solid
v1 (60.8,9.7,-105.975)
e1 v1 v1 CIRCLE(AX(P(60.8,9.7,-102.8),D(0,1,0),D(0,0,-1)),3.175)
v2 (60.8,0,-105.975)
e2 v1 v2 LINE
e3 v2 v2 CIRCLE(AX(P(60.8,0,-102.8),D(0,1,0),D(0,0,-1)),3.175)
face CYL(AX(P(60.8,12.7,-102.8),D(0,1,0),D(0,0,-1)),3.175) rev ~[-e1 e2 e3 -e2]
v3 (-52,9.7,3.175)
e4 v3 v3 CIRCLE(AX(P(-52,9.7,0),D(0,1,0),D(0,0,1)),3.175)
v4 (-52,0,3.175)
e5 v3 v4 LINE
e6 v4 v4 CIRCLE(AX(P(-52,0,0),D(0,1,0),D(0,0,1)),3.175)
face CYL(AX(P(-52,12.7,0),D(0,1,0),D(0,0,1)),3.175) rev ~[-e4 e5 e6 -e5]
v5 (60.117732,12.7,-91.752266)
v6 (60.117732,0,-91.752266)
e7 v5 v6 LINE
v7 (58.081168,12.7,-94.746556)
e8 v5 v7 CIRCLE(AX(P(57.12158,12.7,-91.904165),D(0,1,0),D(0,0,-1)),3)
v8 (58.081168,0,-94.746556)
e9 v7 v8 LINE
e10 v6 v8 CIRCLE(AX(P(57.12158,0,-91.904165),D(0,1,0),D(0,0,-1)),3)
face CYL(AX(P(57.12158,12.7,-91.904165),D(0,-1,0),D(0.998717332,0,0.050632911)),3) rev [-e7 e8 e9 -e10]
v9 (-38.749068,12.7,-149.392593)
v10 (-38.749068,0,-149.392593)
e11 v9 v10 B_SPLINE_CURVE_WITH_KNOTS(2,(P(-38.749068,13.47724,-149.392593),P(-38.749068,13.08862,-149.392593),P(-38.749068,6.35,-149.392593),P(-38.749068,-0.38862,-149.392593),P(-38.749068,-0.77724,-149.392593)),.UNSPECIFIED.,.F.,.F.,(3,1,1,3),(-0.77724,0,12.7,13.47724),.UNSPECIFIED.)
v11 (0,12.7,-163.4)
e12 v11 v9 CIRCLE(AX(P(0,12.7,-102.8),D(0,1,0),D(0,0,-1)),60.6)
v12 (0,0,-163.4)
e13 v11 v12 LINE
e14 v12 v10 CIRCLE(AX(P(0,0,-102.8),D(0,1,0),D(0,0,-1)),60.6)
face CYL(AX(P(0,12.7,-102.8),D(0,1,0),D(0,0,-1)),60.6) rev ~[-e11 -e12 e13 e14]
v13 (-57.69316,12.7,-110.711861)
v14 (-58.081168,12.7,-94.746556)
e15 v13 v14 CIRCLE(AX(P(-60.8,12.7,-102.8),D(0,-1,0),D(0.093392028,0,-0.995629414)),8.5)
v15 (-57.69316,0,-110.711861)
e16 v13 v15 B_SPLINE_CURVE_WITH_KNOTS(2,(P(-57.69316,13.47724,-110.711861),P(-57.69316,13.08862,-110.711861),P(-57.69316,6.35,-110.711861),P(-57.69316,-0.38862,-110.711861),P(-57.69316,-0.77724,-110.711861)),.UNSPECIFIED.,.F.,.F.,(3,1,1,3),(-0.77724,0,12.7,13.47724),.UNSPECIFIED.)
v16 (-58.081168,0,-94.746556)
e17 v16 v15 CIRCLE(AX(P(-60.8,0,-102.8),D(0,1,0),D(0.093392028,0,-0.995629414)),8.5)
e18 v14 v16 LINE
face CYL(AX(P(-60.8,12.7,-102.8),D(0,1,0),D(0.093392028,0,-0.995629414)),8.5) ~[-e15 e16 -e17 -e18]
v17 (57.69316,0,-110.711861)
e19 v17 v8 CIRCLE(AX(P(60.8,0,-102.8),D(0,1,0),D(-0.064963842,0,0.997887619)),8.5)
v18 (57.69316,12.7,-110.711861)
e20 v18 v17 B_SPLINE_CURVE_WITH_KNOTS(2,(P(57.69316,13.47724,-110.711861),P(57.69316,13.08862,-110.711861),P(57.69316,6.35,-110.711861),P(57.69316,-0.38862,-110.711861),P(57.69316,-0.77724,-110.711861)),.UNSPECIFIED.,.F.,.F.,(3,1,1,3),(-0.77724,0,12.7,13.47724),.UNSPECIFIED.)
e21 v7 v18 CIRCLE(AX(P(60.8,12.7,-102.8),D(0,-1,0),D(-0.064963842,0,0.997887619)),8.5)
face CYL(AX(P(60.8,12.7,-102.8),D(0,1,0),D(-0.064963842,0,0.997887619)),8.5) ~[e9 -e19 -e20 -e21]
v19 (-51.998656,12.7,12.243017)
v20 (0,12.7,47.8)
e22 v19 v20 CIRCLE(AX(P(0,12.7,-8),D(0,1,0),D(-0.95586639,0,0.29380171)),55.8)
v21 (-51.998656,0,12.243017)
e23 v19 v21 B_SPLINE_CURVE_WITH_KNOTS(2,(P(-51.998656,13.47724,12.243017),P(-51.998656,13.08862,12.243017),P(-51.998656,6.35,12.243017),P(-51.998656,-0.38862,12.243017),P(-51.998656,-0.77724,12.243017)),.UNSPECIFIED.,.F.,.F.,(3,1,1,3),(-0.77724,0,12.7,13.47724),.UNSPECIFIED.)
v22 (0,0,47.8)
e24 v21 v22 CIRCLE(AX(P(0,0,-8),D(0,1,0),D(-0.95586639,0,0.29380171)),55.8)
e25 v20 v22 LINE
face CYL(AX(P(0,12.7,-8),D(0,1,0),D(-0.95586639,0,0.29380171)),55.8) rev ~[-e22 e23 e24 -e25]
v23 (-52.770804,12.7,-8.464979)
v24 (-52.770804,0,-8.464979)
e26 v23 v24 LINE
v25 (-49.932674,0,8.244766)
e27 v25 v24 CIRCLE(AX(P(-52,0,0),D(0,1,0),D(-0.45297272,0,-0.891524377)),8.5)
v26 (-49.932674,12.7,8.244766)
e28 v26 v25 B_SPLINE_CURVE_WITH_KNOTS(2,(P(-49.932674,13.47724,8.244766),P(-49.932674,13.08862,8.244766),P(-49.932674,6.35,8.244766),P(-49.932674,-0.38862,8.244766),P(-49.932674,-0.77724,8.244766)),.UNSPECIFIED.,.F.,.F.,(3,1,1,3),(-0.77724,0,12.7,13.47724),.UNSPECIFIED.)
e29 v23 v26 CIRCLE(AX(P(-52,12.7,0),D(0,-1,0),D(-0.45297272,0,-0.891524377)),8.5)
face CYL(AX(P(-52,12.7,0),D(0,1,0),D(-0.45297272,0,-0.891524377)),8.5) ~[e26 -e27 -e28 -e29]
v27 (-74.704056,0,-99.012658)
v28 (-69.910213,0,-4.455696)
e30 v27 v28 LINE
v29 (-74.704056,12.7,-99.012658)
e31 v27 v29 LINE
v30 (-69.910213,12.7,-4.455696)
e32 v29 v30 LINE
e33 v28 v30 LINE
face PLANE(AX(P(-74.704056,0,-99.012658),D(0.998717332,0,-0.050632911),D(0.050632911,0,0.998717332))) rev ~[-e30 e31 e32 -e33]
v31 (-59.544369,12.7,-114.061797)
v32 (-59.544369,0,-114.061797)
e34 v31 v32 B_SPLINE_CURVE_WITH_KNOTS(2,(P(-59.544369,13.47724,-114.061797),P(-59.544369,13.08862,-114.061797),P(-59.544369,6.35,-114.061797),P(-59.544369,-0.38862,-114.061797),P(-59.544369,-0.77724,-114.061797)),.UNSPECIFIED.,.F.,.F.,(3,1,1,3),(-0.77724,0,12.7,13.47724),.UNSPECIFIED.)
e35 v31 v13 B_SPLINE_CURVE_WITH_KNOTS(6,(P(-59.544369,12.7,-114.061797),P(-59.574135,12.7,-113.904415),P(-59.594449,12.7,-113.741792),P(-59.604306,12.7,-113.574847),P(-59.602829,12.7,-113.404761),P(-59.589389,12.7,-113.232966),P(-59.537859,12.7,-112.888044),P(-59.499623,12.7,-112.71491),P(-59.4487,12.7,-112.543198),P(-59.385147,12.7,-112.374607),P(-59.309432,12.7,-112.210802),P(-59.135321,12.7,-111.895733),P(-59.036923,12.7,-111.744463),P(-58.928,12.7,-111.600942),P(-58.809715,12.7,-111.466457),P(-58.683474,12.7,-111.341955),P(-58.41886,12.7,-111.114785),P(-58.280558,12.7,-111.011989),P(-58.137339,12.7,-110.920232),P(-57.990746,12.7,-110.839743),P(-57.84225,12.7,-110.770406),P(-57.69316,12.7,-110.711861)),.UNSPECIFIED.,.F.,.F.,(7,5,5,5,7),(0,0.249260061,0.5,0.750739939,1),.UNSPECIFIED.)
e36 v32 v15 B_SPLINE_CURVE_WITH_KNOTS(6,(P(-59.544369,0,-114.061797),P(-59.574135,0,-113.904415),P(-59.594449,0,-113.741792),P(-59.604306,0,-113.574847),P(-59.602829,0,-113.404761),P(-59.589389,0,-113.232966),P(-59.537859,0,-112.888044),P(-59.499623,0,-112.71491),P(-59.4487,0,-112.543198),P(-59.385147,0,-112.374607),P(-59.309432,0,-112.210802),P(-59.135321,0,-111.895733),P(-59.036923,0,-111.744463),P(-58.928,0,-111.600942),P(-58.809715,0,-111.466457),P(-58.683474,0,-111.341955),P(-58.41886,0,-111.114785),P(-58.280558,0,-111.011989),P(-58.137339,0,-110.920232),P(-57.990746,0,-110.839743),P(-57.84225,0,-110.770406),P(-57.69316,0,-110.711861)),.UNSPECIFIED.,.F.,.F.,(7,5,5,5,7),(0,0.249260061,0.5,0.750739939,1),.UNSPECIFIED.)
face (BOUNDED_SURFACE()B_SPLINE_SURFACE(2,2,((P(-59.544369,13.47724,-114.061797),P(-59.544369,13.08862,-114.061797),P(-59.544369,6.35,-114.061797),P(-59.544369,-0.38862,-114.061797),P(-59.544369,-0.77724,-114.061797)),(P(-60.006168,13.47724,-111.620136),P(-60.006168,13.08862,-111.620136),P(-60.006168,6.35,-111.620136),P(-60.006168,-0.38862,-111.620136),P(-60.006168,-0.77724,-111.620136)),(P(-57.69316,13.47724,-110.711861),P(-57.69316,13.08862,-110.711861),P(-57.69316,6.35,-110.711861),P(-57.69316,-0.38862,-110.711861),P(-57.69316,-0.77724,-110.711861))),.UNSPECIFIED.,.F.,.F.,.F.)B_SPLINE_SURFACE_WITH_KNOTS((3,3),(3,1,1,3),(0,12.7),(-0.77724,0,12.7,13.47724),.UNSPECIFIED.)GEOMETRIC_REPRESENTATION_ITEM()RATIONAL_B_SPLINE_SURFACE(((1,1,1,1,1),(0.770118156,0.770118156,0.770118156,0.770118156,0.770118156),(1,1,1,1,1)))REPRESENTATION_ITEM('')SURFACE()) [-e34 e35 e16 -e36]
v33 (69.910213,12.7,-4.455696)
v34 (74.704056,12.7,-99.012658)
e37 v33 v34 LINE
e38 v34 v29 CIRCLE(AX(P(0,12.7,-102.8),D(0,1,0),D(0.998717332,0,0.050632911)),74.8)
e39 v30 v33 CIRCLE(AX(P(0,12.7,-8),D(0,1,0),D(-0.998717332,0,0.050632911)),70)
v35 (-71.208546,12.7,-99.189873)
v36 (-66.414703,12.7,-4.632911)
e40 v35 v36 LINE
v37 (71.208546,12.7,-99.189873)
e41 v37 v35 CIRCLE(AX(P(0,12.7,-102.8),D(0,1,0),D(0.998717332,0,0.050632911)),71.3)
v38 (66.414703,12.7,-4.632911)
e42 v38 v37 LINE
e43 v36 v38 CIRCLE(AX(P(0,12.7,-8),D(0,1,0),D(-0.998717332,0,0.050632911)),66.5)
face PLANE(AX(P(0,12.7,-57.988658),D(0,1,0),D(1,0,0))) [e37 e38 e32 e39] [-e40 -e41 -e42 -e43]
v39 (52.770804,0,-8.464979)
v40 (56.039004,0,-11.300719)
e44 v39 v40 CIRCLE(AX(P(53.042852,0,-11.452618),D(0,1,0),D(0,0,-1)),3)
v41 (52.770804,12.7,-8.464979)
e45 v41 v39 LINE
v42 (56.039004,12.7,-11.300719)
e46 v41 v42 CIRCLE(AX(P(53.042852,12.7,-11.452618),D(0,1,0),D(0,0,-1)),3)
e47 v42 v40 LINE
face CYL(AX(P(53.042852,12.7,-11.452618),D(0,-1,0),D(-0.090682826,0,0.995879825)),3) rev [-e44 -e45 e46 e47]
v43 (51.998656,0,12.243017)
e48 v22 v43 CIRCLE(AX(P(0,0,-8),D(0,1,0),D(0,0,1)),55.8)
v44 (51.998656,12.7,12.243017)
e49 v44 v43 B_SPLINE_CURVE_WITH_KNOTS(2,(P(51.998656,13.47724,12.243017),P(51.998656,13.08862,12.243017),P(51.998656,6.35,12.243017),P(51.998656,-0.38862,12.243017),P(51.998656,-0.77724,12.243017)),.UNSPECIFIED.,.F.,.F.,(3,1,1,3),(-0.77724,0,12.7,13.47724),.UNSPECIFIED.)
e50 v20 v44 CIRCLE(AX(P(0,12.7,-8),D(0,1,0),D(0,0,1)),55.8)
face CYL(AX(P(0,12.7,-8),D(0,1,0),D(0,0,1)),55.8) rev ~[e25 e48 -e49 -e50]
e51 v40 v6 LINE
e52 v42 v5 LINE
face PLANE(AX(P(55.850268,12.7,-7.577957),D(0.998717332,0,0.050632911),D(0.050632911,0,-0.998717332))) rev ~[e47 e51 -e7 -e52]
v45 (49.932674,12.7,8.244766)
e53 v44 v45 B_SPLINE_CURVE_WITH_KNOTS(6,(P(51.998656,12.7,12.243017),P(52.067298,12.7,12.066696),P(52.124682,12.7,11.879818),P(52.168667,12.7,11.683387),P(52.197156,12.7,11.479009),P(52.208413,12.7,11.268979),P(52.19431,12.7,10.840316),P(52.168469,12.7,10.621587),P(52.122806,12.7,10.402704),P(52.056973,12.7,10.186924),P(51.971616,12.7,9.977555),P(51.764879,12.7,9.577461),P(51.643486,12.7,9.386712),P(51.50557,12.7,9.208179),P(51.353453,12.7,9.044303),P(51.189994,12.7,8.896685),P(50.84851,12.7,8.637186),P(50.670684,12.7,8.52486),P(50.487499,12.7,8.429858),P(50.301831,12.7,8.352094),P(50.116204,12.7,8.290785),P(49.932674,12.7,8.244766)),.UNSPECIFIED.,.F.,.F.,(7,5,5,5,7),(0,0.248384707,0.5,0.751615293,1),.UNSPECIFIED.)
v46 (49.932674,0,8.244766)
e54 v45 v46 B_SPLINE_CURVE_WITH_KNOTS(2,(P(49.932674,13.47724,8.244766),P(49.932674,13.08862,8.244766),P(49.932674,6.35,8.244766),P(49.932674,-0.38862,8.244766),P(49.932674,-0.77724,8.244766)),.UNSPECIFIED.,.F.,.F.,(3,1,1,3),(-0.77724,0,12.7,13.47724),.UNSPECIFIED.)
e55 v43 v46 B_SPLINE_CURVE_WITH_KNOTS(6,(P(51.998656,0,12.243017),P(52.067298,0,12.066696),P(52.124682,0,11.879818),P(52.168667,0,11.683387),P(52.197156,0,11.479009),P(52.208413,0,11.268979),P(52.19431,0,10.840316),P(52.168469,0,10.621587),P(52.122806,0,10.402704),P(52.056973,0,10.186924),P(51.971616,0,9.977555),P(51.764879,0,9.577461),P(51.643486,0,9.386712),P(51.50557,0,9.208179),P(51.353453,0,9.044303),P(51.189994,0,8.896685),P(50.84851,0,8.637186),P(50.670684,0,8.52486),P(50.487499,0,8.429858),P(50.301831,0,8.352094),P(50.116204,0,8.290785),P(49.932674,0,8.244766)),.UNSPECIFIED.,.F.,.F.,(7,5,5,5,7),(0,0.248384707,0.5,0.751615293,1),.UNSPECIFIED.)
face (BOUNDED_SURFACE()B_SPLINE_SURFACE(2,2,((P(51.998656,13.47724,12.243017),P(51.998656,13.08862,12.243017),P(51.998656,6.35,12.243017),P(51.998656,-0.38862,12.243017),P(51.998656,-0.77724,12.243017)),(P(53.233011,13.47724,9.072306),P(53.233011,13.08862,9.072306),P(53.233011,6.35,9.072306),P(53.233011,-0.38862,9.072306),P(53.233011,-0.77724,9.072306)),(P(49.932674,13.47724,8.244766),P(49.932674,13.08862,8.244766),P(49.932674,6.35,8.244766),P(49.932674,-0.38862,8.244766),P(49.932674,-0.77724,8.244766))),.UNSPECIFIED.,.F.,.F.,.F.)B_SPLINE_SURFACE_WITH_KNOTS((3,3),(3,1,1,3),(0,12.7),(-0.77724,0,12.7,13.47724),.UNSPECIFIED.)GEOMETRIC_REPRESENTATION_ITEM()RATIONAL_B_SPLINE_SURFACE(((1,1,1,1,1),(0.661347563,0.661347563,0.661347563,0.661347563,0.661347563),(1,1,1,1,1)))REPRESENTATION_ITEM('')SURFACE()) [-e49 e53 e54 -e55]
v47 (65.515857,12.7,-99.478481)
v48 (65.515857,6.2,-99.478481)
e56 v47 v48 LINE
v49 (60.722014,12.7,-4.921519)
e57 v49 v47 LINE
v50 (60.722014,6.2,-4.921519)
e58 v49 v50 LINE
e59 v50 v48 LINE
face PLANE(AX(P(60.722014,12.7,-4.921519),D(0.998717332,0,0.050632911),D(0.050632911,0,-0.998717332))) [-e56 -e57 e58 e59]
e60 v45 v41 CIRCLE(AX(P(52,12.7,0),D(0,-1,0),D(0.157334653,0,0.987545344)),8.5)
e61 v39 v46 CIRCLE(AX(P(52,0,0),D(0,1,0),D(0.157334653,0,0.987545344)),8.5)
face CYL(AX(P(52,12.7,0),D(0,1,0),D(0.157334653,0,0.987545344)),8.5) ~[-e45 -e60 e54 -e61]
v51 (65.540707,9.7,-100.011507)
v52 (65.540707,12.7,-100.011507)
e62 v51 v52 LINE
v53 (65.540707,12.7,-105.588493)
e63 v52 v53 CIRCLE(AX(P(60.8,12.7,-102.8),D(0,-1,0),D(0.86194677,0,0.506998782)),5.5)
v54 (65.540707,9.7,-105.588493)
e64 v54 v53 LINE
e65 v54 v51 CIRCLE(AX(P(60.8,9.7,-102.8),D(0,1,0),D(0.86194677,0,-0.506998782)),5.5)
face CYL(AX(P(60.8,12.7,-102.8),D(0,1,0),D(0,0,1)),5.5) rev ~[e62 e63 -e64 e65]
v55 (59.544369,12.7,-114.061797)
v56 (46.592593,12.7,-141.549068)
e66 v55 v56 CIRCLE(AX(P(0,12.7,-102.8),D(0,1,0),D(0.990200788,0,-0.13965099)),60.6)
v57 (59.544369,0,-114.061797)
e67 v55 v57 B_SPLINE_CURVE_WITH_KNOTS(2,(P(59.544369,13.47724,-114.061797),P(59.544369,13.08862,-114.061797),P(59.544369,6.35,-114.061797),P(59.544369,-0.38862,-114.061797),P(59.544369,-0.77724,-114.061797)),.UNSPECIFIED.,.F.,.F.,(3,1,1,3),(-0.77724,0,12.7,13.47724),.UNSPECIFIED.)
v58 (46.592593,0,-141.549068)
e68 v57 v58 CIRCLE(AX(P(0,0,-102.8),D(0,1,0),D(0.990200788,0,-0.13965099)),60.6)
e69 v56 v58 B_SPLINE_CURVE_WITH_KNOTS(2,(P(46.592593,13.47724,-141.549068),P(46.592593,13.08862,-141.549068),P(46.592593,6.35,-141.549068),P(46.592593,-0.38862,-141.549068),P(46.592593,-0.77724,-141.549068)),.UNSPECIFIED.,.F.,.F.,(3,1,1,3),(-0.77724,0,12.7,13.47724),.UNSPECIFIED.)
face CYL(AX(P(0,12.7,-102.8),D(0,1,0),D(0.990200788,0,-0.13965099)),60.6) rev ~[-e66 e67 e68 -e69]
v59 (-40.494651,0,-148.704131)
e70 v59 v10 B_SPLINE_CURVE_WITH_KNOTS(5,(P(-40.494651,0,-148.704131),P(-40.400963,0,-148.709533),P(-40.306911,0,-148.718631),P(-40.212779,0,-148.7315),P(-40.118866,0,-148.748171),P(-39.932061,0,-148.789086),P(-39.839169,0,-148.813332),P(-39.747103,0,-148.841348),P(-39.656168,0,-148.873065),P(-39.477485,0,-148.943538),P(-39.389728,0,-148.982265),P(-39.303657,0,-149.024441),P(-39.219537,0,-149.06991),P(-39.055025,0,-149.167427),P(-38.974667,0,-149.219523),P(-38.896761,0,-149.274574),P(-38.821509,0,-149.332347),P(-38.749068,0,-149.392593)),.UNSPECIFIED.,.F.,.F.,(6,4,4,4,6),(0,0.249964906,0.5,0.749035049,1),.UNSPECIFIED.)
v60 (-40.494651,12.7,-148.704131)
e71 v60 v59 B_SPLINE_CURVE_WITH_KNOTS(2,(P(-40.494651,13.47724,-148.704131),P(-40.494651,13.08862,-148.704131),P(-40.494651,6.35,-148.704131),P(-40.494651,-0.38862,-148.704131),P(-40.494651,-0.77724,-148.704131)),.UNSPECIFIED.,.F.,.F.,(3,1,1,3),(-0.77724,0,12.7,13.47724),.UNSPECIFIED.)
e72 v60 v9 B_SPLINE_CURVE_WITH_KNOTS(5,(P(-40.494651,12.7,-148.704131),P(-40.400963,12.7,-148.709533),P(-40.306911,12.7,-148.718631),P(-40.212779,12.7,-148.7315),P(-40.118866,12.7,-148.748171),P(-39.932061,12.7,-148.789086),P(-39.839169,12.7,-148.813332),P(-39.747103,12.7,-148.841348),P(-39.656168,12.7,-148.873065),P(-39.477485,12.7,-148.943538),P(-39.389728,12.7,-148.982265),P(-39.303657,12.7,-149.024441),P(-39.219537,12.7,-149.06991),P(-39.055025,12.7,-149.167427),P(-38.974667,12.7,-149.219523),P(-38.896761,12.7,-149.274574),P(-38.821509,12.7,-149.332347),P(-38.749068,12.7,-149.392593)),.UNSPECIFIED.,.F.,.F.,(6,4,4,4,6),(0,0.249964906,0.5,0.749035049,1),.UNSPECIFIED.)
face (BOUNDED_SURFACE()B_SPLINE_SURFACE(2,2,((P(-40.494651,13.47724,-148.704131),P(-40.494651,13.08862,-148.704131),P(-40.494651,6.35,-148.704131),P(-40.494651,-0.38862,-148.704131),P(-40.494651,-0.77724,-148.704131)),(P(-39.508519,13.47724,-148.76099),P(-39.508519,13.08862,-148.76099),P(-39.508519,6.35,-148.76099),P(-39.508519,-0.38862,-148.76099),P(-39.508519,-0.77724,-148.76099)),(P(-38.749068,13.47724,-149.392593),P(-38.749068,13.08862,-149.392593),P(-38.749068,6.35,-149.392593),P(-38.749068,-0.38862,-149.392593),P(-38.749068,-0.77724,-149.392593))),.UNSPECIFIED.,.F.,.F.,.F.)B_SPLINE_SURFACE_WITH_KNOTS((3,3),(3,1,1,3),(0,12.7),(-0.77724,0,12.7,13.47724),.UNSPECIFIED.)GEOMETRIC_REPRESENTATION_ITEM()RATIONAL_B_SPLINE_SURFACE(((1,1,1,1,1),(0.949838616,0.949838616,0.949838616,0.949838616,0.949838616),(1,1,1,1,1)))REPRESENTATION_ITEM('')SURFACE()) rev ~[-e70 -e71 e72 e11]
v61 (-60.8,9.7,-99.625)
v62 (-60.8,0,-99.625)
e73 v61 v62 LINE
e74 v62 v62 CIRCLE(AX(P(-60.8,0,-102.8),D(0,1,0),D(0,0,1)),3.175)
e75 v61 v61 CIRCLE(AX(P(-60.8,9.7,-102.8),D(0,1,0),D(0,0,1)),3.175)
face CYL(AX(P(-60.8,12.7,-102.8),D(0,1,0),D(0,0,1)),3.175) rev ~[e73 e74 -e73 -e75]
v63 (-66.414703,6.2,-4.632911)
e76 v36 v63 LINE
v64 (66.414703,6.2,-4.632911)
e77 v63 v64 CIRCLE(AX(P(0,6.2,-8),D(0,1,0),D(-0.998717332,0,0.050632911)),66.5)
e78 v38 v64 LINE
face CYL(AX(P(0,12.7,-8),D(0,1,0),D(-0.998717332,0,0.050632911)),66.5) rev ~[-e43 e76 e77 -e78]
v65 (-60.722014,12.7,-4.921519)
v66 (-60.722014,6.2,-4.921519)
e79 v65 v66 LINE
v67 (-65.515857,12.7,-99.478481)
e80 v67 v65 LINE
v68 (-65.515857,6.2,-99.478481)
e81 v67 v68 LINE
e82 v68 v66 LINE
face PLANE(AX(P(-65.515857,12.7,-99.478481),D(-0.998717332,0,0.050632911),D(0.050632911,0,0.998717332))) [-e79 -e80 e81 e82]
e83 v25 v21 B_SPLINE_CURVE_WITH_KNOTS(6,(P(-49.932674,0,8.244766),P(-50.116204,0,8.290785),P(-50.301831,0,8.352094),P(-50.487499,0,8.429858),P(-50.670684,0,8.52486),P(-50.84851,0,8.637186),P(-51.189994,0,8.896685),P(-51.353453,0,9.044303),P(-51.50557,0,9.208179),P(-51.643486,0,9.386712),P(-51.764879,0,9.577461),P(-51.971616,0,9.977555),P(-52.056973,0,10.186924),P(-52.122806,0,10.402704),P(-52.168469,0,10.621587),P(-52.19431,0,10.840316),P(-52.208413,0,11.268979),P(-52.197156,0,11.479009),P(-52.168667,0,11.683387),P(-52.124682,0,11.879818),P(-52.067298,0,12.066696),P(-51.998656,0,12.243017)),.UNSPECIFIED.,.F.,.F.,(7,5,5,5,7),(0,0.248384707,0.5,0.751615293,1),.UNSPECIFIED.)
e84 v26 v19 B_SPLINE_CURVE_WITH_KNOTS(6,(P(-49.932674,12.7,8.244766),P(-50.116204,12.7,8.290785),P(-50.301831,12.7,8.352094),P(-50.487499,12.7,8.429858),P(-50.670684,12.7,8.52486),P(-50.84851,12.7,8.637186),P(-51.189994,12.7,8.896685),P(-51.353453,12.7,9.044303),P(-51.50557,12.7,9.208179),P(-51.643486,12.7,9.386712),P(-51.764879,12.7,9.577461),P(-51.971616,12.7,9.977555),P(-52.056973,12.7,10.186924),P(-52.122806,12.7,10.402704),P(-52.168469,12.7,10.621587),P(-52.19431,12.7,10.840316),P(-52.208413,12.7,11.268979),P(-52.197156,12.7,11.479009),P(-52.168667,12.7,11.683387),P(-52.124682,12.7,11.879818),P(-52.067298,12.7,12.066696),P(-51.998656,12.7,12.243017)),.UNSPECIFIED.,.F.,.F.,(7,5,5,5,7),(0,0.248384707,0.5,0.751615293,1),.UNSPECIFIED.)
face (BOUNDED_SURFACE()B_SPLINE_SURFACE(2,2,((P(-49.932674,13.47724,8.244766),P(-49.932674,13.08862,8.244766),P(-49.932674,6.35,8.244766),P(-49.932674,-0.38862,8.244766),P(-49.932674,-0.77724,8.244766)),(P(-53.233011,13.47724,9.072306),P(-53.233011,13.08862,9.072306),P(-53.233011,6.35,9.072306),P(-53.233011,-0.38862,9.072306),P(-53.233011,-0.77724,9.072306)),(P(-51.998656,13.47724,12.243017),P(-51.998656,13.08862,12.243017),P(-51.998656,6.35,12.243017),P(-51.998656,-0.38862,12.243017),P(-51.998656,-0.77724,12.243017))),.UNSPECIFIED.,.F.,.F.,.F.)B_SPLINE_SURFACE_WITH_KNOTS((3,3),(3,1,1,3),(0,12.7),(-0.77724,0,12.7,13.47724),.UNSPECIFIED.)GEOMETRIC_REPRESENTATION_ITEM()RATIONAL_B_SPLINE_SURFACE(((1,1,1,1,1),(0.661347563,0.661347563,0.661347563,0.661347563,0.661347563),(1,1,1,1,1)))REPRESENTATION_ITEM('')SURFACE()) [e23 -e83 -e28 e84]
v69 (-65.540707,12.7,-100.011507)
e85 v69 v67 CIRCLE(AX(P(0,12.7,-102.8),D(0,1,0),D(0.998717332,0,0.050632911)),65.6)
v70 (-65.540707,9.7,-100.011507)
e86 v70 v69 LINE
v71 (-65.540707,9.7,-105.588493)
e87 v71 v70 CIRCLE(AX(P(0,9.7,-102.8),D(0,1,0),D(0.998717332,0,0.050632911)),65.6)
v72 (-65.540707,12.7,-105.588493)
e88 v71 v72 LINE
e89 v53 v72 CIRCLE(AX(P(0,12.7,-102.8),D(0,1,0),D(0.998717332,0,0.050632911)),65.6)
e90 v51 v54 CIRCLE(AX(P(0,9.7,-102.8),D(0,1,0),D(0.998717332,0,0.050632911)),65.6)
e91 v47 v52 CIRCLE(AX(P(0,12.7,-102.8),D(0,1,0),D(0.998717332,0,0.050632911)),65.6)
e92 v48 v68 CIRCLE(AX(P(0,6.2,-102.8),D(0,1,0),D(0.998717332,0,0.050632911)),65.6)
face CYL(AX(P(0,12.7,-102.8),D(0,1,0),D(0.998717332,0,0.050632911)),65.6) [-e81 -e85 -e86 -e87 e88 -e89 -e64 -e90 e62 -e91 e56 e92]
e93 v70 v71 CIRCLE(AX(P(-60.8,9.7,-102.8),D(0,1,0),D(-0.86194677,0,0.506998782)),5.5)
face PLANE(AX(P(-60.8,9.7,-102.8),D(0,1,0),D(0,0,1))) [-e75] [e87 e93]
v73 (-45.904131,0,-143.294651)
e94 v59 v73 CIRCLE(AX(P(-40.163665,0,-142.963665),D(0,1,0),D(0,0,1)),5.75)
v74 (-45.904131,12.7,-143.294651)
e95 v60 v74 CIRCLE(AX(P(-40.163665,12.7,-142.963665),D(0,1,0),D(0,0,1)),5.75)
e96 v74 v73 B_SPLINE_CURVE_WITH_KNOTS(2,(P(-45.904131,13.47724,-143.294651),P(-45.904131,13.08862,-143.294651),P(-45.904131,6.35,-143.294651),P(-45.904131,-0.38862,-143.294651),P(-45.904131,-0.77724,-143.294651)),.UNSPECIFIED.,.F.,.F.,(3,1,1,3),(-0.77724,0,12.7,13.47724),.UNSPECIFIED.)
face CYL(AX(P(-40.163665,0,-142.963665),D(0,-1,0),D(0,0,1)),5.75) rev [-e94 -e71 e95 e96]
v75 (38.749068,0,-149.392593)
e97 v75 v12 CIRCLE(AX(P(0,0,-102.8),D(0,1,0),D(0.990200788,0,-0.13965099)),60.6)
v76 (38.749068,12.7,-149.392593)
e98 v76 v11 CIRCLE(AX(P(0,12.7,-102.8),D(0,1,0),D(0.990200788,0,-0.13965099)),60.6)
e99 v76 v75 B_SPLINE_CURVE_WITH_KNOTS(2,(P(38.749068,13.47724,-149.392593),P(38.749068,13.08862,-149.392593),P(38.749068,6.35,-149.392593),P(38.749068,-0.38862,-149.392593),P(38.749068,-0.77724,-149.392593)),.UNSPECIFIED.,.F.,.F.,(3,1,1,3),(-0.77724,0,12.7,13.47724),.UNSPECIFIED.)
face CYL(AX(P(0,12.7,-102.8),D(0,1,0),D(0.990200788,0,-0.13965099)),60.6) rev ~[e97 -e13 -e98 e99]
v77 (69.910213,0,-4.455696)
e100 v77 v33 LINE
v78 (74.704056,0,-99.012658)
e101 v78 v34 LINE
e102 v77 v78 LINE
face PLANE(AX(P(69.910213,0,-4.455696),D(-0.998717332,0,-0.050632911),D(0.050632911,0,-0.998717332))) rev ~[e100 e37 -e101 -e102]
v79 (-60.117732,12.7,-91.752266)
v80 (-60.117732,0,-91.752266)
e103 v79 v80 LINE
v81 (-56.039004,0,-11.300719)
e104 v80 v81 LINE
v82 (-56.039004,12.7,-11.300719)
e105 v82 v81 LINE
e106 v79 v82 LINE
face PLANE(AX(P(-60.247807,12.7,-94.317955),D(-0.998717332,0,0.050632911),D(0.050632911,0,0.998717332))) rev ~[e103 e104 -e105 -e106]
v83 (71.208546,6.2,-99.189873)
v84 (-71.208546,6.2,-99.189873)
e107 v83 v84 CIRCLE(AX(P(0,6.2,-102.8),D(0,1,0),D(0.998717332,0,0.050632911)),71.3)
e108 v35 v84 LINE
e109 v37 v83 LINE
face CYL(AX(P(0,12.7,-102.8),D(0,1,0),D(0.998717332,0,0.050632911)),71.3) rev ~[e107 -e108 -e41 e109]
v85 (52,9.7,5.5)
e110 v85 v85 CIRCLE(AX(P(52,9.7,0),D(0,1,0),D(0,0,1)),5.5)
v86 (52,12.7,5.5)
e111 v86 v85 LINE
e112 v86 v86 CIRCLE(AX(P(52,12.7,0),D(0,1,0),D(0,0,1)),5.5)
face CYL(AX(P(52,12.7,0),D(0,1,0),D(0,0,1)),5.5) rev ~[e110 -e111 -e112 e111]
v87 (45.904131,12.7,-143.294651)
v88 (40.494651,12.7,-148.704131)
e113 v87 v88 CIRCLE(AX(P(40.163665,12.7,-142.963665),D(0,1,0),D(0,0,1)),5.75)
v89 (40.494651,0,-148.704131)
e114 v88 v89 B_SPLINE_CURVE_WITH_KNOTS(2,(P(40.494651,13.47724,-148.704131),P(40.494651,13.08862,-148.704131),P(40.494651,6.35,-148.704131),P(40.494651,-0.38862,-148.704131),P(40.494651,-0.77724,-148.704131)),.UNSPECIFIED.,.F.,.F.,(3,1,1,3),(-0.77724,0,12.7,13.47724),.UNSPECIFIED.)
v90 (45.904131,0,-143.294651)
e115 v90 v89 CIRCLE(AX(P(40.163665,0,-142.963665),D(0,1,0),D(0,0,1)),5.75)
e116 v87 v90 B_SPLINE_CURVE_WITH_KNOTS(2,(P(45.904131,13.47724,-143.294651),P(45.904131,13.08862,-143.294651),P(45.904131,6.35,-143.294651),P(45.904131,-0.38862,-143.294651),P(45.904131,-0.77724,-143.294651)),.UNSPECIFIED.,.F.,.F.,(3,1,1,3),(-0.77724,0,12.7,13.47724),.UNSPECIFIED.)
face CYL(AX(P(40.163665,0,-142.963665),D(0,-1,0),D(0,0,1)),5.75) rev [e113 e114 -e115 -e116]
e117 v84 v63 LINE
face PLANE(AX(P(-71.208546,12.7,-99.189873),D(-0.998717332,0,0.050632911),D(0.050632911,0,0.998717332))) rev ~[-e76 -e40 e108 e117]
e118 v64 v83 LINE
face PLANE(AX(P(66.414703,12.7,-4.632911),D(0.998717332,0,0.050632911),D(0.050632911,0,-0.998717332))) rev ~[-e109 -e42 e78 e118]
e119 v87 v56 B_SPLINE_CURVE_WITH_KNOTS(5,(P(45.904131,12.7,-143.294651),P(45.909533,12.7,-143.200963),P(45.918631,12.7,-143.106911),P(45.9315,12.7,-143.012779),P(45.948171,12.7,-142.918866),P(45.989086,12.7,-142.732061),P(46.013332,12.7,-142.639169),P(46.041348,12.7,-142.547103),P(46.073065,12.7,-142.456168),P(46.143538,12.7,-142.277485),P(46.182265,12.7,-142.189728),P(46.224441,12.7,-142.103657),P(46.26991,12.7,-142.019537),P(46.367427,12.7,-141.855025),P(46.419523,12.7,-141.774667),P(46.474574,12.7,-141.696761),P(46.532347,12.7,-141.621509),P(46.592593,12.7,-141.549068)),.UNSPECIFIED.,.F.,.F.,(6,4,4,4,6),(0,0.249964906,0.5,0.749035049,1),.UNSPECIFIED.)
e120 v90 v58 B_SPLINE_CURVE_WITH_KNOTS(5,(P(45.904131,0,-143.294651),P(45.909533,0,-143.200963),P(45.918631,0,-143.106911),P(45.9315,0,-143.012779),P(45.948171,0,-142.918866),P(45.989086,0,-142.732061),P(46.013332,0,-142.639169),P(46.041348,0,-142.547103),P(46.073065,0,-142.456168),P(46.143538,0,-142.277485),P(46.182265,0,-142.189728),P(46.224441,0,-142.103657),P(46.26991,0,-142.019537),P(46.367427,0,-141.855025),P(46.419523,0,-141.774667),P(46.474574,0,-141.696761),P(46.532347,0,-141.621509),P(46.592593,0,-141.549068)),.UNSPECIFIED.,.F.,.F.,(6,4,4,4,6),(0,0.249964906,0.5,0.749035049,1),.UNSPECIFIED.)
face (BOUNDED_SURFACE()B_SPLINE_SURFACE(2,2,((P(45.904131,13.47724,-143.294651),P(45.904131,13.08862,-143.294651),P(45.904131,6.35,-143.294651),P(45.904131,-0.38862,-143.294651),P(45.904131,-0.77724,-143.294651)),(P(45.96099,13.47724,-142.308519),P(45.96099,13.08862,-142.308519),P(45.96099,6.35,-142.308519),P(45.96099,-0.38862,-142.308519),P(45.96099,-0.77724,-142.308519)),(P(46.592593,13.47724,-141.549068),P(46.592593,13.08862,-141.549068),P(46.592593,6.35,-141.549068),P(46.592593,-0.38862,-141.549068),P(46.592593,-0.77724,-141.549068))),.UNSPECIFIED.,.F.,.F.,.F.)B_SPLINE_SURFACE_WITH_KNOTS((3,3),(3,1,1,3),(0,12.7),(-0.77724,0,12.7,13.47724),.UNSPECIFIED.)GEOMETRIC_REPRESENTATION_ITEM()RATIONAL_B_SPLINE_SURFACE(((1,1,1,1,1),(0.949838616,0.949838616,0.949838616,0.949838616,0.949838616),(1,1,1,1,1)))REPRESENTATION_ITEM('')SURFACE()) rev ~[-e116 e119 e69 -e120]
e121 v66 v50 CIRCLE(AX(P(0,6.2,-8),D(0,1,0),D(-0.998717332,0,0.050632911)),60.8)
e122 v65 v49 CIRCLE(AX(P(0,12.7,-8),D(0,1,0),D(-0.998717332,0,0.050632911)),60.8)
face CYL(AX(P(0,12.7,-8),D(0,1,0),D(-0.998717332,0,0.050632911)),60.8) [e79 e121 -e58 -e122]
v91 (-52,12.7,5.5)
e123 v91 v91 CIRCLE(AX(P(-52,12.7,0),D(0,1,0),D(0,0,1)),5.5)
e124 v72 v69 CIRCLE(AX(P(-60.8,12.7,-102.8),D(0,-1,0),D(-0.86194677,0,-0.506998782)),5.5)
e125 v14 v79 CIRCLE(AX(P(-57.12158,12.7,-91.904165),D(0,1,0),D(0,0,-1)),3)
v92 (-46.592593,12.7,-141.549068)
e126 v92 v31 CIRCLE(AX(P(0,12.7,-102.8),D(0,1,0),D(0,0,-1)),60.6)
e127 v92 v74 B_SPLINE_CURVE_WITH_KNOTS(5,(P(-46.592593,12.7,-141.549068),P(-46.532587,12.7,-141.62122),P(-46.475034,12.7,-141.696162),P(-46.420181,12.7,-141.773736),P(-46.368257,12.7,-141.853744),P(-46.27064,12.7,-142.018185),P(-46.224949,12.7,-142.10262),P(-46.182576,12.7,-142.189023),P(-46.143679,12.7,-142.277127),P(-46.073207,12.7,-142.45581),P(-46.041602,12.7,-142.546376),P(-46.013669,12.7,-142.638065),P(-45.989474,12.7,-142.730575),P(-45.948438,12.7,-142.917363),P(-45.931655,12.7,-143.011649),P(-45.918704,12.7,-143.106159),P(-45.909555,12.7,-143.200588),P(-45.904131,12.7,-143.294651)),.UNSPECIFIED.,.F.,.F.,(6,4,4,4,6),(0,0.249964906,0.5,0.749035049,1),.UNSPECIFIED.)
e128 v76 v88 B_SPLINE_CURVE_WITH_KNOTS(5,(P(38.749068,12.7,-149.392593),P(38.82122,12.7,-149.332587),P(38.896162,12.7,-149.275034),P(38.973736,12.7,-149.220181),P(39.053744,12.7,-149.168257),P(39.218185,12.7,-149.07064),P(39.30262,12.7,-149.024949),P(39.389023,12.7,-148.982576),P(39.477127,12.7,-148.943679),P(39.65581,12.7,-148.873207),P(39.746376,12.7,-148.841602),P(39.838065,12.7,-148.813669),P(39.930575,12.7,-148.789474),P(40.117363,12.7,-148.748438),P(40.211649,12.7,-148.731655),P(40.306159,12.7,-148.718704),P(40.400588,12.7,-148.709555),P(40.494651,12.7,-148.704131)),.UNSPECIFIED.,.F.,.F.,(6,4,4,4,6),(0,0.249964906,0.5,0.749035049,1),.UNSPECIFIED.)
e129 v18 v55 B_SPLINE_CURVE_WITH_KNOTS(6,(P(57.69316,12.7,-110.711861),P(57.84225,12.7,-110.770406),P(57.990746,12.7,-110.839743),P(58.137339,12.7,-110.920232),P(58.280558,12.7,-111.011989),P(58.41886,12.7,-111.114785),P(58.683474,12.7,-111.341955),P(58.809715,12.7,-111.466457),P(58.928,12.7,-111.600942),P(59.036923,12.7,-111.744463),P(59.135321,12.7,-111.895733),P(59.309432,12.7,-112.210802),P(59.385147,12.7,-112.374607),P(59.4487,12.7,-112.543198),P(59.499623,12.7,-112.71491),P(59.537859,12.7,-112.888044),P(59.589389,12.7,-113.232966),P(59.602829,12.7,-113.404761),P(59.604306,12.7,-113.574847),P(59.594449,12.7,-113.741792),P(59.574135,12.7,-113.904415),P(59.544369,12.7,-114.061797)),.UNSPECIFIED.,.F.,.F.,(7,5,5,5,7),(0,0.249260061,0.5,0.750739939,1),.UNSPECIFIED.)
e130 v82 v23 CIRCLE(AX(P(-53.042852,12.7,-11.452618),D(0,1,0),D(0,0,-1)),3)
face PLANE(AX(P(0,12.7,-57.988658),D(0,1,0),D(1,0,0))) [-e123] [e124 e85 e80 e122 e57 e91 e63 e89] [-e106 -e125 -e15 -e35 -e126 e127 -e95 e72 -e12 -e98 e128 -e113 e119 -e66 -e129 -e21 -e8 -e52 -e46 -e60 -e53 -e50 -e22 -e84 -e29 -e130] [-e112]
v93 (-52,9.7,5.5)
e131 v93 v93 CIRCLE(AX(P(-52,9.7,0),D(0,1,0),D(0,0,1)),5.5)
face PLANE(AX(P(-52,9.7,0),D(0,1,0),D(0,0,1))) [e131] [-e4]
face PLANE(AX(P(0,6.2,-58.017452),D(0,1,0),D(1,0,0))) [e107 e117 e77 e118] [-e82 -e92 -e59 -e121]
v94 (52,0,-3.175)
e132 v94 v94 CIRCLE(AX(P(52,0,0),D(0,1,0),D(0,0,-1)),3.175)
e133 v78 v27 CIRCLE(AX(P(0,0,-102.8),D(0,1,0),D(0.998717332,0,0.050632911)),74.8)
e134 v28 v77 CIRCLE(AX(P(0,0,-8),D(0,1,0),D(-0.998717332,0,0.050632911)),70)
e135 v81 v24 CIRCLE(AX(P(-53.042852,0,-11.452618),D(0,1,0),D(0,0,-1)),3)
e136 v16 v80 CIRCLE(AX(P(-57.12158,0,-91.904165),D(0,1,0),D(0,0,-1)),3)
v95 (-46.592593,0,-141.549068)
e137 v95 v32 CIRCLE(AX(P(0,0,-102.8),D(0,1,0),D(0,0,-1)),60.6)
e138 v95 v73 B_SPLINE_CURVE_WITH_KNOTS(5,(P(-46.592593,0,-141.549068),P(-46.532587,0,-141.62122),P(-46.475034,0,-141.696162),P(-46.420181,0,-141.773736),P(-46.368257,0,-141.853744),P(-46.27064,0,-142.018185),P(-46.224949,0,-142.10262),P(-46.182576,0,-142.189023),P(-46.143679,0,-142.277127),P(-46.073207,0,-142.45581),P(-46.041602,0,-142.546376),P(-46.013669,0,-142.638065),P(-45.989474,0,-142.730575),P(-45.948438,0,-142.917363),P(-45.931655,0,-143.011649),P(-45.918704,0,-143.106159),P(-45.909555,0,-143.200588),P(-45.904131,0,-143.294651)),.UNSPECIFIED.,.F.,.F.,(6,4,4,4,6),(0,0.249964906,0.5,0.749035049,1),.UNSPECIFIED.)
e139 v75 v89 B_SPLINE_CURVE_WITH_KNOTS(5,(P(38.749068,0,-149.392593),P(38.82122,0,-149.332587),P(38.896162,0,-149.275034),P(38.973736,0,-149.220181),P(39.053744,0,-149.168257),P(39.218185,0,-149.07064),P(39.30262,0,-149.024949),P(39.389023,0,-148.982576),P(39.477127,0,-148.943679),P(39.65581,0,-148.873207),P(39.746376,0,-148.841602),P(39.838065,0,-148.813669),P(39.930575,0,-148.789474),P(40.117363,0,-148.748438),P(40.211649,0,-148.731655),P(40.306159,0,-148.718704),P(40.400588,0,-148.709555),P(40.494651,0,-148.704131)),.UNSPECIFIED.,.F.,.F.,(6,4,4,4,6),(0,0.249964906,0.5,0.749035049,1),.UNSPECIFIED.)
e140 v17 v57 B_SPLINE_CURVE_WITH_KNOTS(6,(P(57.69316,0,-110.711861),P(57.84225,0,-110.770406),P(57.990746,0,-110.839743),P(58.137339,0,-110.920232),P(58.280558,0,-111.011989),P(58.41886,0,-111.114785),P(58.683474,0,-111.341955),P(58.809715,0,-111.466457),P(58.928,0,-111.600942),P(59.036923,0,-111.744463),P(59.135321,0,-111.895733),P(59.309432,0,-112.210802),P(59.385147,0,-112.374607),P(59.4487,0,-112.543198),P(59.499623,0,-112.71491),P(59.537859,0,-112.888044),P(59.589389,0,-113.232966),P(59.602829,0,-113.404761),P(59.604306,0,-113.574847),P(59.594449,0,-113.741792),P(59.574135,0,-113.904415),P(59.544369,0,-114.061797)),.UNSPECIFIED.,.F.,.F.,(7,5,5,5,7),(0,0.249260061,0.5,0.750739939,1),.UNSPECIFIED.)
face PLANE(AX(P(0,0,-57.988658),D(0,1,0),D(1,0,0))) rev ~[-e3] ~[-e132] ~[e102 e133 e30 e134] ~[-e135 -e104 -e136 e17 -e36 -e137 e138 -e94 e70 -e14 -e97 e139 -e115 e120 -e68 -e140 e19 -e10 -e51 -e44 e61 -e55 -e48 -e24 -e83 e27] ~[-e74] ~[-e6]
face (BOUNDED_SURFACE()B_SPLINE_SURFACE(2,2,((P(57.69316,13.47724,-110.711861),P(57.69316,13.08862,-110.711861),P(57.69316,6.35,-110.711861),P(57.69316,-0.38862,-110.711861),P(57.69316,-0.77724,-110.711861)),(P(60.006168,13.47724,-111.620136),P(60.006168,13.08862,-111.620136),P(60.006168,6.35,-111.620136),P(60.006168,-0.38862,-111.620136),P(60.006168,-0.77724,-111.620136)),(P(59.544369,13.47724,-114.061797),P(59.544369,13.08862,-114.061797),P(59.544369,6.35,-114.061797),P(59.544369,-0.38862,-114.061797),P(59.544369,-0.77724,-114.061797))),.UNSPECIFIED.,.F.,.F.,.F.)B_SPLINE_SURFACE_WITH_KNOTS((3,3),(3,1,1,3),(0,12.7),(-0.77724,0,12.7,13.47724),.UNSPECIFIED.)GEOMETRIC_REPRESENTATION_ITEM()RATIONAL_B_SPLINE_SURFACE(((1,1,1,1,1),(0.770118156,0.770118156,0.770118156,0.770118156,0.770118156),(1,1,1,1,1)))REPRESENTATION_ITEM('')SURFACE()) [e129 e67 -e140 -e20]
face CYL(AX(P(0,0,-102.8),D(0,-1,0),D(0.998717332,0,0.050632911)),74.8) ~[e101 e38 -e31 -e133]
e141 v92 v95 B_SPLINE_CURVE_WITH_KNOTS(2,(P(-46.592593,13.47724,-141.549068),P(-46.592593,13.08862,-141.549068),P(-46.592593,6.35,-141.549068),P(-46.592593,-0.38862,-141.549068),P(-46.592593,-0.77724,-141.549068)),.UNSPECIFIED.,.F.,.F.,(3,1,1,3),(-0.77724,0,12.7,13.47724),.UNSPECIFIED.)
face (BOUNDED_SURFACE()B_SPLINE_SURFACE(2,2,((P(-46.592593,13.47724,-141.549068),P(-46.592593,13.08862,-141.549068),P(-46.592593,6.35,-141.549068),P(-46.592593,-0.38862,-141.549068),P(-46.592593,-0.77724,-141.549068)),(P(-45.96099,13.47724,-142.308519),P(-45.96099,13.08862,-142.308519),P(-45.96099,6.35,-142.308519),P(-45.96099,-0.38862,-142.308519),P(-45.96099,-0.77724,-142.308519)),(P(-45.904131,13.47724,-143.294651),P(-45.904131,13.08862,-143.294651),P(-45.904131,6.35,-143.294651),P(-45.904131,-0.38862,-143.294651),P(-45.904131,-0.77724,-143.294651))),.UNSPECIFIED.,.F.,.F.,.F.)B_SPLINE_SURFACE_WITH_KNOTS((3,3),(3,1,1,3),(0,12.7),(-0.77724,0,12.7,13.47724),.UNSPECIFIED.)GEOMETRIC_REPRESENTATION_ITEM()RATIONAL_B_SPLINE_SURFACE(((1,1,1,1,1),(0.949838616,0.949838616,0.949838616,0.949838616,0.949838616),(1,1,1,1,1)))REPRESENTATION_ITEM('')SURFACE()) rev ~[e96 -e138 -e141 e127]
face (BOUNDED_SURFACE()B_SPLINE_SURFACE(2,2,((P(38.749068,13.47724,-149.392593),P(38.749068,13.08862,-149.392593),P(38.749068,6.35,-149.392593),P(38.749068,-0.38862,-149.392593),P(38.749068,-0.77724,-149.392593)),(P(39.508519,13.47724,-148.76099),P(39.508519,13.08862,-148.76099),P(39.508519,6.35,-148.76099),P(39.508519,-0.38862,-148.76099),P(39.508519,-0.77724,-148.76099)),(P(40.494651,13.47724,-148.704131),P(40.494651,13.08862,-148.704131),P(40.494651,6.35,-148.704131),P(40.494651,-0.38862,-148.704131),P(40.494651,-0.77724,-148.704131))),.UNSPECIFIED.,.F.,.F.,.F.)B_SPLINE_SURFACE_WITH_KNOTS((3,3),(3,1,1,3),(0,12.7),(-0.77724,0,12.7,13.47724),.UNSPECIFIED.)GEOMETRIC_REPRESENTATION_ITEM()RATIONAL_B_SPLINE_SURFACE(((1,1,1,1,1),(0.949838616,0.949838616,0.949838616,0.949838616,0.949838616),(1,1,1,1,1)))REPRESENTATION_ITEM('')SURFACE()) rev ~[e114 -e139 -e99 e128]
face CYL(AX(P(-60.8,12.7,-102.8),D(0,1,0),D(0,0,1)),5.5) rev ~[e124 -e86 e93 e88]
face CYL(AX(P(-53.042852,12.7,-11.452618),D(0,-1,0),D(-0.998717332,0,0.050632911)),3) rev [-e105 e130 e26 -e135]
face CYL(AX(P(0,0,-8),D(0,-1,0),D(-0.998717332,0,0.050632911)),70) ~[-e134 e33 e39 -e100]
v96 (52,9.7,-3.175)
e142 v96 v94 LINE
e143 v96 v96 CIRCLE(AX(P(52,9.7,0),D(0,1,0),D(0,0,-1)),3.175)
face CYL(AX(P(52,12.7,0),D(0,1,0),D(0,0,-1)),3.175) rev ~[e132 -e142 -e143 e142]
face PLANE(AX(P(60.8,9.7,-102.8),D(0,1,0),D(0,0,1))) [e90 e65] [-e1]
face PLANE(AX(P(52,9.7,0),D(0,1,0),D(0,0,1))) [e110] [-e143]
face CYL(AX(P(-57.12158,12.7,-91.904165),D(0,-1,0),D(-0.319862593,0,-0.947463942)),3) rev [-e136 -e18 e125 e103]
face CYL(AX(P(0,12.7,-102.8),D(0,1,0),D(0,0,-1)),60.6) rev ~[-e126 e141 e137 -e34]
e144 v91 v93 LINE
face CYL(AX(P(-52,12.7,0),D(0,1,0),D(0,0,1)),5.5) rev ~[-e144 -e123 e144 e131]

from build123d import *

# Parameters (mm, degrees)
SKETCH1_R           = 40
SKETCH1_R_2         = 50.8
SKETCH1_R_3         = 5.75
BOSS_EXTRUDE1_DEPTH = 12.7
SKETCH10_R          = 3.175
CUT_EXTRUDE6_DEPTH  = 194.127134292
SKETCH12_R          = 5.5
CUT_EXTRUDE8_DEPTH  = 3
CUT_EXTRUDE9_DEPTH  = 6.5
CUT_EXTRUDE10_DEPTH = 194.127134292
FILLET1_R           = 3
FILLET2_R           = 3


with BuildPart() as part:
    # Sketch1 → Boss-Extrude1 (new body)
    with BuildSketch(Plane(origin=(0, 0, 0), x_dir=(1, 0, 0), z_dir=(0, 1, 0))):
        with BuildLine():
            Line((-74.704056398, 99.012658228), (-69.910213207, 4.455696203))
            ThreePointArc((-69.910213207, 4.455696203), (0, -62), (69.910213207, 4.455696203))
            Line((69.910213207, 4.455696203), (74.704056398, 99.012658228))
            ThreePointArc((74.704056398, 99.012658228), (0, 177.6), (-74.704056398, 99.012658228))
        make_face()
        with Locations(Location((0, 0, 0), (0, 0, 270))):
            Circle(SKETCH1_R, mode=Mode.SUBTRACT)
        with Locations(Location((0, 102.8, 0), (0, 0, 270))):
            Circle(SKETCH1_R_2, mode=Mode.SUBTRACT)
        with Locations(Location((40.163665171, 142.963665171, 0), (0, 0, 270))):
            Circle(SKETCH1_R_3, mode=Mode.SUBTRACT)
        with Locations(Location((40.163665171, 62.636334829, 0), (0, 0, 270))):
            Circle(SKETCH1_R_3, mode=Mode.SUBTRACT)
        with Locations(Location((-40.163665171, 62.636334829, 0), (0, 0, 270))):
            Circle(SKETCH1_R_3, mode=Mode.SUBTRACT)
        with Locations(Location((-40.163665171, 142.963665171, 0), (0, 0, 270))):
            Circle(SKETCH1_R_3, mode=Mode.SUBTRACT)
    extrude(amount=BOSS_EXTRUDE1_DEPTH)

    # Sketch10 → Cut-Extrude6 (cut, through all)
    with BuildSketch(Plane(origin=(0, 12.7, 0), x_dir=(1, 0, 0), z_dir=(0, 1, 0))):
        with Locations(Location((-52, 0, 0), (0, 0, 270))):
            Circle(SKETCH10_R)
        with Locations(Location((-60.8, 102.8, 0), (0, 0, 270))):
            Circle(SKETCH10_R)
        with Locations(Location((60.8, 102.8, 0), (0, 0, 90))):
            Circle(SKETCH10_R)
        with Locations(Location((52, 0, 0), (0, 0, 90))):
            Circle(SKETCH10_R)
    extrude(amount=-CUT_EXTRUDE6_DEPTH, mode=Mode.SUBTRACT)

    # Sketch12 → Cut-Extrude8 (cut)
    with BuildSketch(Plane(origin=(0, 12.7, 0), x_dir=(1, 0, 0), z_dir=(0, 1, 0))):
        with Locations(Location((-60.8, 102.8, 0), (0, 0, 270))):
            Circle(SKETCH12_R)
        with Locations(Location((60.8, 102.8, 0), (0, 0, 270))):
            Circle(SKETCH12_R)
        with Locations(Location((52, 0, 0), (0, 0, 270))):
            Circle(SKETCH12_R)
        with Locations(Location((-52, 0, 0), (0, 0, 270))):
            Circle(SKETCH12_R)
    extrude(amount=-CUT_EXTRUDE8_DEPTH, mode=Mode.SUBTRACT)

    # Sketch13 → Cut-Extrude9 (cut)
    with BuildSketch(Plane(origin=(0, 12.7, 0), x_dir=(1, 0, 0), z_dir=(0, 1, 0))):
        with BuildLine():
            Line((-71.208545738, 99.189873418), (-66.414702546, 4.632911392))
            ThreePointArc((-66.414702546, 4.632911392), (0, -58.5), (66.414702546, 4.632911392))
            Line((66.414702546, 4.632911392), (71.208545738, 99.189873418))
            ThreePointArc((71.208545738, 99.189873418), (0, 174.1), (-71.208545738, 99.189873418))
        make_face()
        with BuildLine():
            Line((-65.515856948, 99.478481013), (-60.722013757, 4.921518987))
            ThreePointArc((-60.722013757, 4.921518987), (0, -52.8), (60.722013757, 4.921518987))
            Line((60.722013757, 4.921518987), (65.515856948, 99.478481013))
            ThreePointArc((65.515856948, 99.478481013), (0, 168.4), (-65.515856948, 99.478481013))
        make_face(mode=Mode.SUBTRACT)
    extrude(amount=-CUT_EXTRUDE9_DEPTH, mode=Mode.SUBTRACT)

    # Sketch14 → Cut-Extrude10 (cut, through all)
    with BuildSketch(Plane(origin=(0, 12.7, 0), x_dir=(1, 0, 0), z_dir=(0, 1, 0))):
        with BuildLine():
            Line((-60.247807343, 94.317955242), (-55.850268123, 7.577957204))
            ThreePointArc((-55.850268123, 7.577957204), (-43.603288319, 1.321072649), (-53.33734455, -8.394135426))
            ThreePointArc((-53.33734455, -8.394135426), (-33.157557534, -36.880022041), (0, -47.8))
            ThreePointArc((0, -47.8), (33.157557534, -36.880022041), (53.33734455, -8.394135426))
            ThreePointArc((53.33734455, -8.394135426), (43.603288319, 1.321072649), (55.850268123, 7.577957204))
            Line((55.850268123, 7.577957204), (60.247807343, 94.317955242))
            ThreePointArc((60.247807343, 94.317955242), (52.300864134, 102.678799624), (60.006167763, 111.262850015))
            ThreePointArc((60.006167763, 111.262850015), (39.746139995, 148.544992682), (0, 163.4))
            ThreePointArc((0, 163.4), (-39.746139995, 148.544992682), (-60.006167763, 111.262850015))
            ThreePointArc((-60.006167763, 111.262850015), (-52.300864134, 102.678799624), (-60.247807343, 94.317955242))
        make_face()
    extrude(amount=-CUT_EXTRUDE10_DEPTH, mode=Mode.SUBTRACT)

    # Fillet1
    fillet1_edges = [part.edges().sort_by_distance(p)[0] for p in [
        (-60.006167763, 6.35, -111.262850015),
        (-53.33734455, 6.35, 8.394135426),
        (-55.850268123, 6.35, -7.577957204),
        (-60.247807343, 6.35, -94.317955242),
        (60.006167763, 6.35, -111.262850015),
        (60.247807343, 6.35, -94.317955242),
        (55.850268123, 6.35, -7.577957204),
        (53.33734455, 6.35, 8.394135426),
    ]]
    fillet(fillet1_edges, radius=FILLET1_R)

    # Fillet2
    fillet2_edges = [part.edges().sort_by_distance(p)[0] for p in [
        (-39.585032528, 6.35, -148.684476675),
        (-45.884476675, 6.35, -142.385032528),
        (39.585032528, 6.35, -148.684476675),
        (45.884476675, 6.35, -142.385032528),
    ]]
    fillet(fillet2_edges, radius=FILLET2_R)


solid = part.part
